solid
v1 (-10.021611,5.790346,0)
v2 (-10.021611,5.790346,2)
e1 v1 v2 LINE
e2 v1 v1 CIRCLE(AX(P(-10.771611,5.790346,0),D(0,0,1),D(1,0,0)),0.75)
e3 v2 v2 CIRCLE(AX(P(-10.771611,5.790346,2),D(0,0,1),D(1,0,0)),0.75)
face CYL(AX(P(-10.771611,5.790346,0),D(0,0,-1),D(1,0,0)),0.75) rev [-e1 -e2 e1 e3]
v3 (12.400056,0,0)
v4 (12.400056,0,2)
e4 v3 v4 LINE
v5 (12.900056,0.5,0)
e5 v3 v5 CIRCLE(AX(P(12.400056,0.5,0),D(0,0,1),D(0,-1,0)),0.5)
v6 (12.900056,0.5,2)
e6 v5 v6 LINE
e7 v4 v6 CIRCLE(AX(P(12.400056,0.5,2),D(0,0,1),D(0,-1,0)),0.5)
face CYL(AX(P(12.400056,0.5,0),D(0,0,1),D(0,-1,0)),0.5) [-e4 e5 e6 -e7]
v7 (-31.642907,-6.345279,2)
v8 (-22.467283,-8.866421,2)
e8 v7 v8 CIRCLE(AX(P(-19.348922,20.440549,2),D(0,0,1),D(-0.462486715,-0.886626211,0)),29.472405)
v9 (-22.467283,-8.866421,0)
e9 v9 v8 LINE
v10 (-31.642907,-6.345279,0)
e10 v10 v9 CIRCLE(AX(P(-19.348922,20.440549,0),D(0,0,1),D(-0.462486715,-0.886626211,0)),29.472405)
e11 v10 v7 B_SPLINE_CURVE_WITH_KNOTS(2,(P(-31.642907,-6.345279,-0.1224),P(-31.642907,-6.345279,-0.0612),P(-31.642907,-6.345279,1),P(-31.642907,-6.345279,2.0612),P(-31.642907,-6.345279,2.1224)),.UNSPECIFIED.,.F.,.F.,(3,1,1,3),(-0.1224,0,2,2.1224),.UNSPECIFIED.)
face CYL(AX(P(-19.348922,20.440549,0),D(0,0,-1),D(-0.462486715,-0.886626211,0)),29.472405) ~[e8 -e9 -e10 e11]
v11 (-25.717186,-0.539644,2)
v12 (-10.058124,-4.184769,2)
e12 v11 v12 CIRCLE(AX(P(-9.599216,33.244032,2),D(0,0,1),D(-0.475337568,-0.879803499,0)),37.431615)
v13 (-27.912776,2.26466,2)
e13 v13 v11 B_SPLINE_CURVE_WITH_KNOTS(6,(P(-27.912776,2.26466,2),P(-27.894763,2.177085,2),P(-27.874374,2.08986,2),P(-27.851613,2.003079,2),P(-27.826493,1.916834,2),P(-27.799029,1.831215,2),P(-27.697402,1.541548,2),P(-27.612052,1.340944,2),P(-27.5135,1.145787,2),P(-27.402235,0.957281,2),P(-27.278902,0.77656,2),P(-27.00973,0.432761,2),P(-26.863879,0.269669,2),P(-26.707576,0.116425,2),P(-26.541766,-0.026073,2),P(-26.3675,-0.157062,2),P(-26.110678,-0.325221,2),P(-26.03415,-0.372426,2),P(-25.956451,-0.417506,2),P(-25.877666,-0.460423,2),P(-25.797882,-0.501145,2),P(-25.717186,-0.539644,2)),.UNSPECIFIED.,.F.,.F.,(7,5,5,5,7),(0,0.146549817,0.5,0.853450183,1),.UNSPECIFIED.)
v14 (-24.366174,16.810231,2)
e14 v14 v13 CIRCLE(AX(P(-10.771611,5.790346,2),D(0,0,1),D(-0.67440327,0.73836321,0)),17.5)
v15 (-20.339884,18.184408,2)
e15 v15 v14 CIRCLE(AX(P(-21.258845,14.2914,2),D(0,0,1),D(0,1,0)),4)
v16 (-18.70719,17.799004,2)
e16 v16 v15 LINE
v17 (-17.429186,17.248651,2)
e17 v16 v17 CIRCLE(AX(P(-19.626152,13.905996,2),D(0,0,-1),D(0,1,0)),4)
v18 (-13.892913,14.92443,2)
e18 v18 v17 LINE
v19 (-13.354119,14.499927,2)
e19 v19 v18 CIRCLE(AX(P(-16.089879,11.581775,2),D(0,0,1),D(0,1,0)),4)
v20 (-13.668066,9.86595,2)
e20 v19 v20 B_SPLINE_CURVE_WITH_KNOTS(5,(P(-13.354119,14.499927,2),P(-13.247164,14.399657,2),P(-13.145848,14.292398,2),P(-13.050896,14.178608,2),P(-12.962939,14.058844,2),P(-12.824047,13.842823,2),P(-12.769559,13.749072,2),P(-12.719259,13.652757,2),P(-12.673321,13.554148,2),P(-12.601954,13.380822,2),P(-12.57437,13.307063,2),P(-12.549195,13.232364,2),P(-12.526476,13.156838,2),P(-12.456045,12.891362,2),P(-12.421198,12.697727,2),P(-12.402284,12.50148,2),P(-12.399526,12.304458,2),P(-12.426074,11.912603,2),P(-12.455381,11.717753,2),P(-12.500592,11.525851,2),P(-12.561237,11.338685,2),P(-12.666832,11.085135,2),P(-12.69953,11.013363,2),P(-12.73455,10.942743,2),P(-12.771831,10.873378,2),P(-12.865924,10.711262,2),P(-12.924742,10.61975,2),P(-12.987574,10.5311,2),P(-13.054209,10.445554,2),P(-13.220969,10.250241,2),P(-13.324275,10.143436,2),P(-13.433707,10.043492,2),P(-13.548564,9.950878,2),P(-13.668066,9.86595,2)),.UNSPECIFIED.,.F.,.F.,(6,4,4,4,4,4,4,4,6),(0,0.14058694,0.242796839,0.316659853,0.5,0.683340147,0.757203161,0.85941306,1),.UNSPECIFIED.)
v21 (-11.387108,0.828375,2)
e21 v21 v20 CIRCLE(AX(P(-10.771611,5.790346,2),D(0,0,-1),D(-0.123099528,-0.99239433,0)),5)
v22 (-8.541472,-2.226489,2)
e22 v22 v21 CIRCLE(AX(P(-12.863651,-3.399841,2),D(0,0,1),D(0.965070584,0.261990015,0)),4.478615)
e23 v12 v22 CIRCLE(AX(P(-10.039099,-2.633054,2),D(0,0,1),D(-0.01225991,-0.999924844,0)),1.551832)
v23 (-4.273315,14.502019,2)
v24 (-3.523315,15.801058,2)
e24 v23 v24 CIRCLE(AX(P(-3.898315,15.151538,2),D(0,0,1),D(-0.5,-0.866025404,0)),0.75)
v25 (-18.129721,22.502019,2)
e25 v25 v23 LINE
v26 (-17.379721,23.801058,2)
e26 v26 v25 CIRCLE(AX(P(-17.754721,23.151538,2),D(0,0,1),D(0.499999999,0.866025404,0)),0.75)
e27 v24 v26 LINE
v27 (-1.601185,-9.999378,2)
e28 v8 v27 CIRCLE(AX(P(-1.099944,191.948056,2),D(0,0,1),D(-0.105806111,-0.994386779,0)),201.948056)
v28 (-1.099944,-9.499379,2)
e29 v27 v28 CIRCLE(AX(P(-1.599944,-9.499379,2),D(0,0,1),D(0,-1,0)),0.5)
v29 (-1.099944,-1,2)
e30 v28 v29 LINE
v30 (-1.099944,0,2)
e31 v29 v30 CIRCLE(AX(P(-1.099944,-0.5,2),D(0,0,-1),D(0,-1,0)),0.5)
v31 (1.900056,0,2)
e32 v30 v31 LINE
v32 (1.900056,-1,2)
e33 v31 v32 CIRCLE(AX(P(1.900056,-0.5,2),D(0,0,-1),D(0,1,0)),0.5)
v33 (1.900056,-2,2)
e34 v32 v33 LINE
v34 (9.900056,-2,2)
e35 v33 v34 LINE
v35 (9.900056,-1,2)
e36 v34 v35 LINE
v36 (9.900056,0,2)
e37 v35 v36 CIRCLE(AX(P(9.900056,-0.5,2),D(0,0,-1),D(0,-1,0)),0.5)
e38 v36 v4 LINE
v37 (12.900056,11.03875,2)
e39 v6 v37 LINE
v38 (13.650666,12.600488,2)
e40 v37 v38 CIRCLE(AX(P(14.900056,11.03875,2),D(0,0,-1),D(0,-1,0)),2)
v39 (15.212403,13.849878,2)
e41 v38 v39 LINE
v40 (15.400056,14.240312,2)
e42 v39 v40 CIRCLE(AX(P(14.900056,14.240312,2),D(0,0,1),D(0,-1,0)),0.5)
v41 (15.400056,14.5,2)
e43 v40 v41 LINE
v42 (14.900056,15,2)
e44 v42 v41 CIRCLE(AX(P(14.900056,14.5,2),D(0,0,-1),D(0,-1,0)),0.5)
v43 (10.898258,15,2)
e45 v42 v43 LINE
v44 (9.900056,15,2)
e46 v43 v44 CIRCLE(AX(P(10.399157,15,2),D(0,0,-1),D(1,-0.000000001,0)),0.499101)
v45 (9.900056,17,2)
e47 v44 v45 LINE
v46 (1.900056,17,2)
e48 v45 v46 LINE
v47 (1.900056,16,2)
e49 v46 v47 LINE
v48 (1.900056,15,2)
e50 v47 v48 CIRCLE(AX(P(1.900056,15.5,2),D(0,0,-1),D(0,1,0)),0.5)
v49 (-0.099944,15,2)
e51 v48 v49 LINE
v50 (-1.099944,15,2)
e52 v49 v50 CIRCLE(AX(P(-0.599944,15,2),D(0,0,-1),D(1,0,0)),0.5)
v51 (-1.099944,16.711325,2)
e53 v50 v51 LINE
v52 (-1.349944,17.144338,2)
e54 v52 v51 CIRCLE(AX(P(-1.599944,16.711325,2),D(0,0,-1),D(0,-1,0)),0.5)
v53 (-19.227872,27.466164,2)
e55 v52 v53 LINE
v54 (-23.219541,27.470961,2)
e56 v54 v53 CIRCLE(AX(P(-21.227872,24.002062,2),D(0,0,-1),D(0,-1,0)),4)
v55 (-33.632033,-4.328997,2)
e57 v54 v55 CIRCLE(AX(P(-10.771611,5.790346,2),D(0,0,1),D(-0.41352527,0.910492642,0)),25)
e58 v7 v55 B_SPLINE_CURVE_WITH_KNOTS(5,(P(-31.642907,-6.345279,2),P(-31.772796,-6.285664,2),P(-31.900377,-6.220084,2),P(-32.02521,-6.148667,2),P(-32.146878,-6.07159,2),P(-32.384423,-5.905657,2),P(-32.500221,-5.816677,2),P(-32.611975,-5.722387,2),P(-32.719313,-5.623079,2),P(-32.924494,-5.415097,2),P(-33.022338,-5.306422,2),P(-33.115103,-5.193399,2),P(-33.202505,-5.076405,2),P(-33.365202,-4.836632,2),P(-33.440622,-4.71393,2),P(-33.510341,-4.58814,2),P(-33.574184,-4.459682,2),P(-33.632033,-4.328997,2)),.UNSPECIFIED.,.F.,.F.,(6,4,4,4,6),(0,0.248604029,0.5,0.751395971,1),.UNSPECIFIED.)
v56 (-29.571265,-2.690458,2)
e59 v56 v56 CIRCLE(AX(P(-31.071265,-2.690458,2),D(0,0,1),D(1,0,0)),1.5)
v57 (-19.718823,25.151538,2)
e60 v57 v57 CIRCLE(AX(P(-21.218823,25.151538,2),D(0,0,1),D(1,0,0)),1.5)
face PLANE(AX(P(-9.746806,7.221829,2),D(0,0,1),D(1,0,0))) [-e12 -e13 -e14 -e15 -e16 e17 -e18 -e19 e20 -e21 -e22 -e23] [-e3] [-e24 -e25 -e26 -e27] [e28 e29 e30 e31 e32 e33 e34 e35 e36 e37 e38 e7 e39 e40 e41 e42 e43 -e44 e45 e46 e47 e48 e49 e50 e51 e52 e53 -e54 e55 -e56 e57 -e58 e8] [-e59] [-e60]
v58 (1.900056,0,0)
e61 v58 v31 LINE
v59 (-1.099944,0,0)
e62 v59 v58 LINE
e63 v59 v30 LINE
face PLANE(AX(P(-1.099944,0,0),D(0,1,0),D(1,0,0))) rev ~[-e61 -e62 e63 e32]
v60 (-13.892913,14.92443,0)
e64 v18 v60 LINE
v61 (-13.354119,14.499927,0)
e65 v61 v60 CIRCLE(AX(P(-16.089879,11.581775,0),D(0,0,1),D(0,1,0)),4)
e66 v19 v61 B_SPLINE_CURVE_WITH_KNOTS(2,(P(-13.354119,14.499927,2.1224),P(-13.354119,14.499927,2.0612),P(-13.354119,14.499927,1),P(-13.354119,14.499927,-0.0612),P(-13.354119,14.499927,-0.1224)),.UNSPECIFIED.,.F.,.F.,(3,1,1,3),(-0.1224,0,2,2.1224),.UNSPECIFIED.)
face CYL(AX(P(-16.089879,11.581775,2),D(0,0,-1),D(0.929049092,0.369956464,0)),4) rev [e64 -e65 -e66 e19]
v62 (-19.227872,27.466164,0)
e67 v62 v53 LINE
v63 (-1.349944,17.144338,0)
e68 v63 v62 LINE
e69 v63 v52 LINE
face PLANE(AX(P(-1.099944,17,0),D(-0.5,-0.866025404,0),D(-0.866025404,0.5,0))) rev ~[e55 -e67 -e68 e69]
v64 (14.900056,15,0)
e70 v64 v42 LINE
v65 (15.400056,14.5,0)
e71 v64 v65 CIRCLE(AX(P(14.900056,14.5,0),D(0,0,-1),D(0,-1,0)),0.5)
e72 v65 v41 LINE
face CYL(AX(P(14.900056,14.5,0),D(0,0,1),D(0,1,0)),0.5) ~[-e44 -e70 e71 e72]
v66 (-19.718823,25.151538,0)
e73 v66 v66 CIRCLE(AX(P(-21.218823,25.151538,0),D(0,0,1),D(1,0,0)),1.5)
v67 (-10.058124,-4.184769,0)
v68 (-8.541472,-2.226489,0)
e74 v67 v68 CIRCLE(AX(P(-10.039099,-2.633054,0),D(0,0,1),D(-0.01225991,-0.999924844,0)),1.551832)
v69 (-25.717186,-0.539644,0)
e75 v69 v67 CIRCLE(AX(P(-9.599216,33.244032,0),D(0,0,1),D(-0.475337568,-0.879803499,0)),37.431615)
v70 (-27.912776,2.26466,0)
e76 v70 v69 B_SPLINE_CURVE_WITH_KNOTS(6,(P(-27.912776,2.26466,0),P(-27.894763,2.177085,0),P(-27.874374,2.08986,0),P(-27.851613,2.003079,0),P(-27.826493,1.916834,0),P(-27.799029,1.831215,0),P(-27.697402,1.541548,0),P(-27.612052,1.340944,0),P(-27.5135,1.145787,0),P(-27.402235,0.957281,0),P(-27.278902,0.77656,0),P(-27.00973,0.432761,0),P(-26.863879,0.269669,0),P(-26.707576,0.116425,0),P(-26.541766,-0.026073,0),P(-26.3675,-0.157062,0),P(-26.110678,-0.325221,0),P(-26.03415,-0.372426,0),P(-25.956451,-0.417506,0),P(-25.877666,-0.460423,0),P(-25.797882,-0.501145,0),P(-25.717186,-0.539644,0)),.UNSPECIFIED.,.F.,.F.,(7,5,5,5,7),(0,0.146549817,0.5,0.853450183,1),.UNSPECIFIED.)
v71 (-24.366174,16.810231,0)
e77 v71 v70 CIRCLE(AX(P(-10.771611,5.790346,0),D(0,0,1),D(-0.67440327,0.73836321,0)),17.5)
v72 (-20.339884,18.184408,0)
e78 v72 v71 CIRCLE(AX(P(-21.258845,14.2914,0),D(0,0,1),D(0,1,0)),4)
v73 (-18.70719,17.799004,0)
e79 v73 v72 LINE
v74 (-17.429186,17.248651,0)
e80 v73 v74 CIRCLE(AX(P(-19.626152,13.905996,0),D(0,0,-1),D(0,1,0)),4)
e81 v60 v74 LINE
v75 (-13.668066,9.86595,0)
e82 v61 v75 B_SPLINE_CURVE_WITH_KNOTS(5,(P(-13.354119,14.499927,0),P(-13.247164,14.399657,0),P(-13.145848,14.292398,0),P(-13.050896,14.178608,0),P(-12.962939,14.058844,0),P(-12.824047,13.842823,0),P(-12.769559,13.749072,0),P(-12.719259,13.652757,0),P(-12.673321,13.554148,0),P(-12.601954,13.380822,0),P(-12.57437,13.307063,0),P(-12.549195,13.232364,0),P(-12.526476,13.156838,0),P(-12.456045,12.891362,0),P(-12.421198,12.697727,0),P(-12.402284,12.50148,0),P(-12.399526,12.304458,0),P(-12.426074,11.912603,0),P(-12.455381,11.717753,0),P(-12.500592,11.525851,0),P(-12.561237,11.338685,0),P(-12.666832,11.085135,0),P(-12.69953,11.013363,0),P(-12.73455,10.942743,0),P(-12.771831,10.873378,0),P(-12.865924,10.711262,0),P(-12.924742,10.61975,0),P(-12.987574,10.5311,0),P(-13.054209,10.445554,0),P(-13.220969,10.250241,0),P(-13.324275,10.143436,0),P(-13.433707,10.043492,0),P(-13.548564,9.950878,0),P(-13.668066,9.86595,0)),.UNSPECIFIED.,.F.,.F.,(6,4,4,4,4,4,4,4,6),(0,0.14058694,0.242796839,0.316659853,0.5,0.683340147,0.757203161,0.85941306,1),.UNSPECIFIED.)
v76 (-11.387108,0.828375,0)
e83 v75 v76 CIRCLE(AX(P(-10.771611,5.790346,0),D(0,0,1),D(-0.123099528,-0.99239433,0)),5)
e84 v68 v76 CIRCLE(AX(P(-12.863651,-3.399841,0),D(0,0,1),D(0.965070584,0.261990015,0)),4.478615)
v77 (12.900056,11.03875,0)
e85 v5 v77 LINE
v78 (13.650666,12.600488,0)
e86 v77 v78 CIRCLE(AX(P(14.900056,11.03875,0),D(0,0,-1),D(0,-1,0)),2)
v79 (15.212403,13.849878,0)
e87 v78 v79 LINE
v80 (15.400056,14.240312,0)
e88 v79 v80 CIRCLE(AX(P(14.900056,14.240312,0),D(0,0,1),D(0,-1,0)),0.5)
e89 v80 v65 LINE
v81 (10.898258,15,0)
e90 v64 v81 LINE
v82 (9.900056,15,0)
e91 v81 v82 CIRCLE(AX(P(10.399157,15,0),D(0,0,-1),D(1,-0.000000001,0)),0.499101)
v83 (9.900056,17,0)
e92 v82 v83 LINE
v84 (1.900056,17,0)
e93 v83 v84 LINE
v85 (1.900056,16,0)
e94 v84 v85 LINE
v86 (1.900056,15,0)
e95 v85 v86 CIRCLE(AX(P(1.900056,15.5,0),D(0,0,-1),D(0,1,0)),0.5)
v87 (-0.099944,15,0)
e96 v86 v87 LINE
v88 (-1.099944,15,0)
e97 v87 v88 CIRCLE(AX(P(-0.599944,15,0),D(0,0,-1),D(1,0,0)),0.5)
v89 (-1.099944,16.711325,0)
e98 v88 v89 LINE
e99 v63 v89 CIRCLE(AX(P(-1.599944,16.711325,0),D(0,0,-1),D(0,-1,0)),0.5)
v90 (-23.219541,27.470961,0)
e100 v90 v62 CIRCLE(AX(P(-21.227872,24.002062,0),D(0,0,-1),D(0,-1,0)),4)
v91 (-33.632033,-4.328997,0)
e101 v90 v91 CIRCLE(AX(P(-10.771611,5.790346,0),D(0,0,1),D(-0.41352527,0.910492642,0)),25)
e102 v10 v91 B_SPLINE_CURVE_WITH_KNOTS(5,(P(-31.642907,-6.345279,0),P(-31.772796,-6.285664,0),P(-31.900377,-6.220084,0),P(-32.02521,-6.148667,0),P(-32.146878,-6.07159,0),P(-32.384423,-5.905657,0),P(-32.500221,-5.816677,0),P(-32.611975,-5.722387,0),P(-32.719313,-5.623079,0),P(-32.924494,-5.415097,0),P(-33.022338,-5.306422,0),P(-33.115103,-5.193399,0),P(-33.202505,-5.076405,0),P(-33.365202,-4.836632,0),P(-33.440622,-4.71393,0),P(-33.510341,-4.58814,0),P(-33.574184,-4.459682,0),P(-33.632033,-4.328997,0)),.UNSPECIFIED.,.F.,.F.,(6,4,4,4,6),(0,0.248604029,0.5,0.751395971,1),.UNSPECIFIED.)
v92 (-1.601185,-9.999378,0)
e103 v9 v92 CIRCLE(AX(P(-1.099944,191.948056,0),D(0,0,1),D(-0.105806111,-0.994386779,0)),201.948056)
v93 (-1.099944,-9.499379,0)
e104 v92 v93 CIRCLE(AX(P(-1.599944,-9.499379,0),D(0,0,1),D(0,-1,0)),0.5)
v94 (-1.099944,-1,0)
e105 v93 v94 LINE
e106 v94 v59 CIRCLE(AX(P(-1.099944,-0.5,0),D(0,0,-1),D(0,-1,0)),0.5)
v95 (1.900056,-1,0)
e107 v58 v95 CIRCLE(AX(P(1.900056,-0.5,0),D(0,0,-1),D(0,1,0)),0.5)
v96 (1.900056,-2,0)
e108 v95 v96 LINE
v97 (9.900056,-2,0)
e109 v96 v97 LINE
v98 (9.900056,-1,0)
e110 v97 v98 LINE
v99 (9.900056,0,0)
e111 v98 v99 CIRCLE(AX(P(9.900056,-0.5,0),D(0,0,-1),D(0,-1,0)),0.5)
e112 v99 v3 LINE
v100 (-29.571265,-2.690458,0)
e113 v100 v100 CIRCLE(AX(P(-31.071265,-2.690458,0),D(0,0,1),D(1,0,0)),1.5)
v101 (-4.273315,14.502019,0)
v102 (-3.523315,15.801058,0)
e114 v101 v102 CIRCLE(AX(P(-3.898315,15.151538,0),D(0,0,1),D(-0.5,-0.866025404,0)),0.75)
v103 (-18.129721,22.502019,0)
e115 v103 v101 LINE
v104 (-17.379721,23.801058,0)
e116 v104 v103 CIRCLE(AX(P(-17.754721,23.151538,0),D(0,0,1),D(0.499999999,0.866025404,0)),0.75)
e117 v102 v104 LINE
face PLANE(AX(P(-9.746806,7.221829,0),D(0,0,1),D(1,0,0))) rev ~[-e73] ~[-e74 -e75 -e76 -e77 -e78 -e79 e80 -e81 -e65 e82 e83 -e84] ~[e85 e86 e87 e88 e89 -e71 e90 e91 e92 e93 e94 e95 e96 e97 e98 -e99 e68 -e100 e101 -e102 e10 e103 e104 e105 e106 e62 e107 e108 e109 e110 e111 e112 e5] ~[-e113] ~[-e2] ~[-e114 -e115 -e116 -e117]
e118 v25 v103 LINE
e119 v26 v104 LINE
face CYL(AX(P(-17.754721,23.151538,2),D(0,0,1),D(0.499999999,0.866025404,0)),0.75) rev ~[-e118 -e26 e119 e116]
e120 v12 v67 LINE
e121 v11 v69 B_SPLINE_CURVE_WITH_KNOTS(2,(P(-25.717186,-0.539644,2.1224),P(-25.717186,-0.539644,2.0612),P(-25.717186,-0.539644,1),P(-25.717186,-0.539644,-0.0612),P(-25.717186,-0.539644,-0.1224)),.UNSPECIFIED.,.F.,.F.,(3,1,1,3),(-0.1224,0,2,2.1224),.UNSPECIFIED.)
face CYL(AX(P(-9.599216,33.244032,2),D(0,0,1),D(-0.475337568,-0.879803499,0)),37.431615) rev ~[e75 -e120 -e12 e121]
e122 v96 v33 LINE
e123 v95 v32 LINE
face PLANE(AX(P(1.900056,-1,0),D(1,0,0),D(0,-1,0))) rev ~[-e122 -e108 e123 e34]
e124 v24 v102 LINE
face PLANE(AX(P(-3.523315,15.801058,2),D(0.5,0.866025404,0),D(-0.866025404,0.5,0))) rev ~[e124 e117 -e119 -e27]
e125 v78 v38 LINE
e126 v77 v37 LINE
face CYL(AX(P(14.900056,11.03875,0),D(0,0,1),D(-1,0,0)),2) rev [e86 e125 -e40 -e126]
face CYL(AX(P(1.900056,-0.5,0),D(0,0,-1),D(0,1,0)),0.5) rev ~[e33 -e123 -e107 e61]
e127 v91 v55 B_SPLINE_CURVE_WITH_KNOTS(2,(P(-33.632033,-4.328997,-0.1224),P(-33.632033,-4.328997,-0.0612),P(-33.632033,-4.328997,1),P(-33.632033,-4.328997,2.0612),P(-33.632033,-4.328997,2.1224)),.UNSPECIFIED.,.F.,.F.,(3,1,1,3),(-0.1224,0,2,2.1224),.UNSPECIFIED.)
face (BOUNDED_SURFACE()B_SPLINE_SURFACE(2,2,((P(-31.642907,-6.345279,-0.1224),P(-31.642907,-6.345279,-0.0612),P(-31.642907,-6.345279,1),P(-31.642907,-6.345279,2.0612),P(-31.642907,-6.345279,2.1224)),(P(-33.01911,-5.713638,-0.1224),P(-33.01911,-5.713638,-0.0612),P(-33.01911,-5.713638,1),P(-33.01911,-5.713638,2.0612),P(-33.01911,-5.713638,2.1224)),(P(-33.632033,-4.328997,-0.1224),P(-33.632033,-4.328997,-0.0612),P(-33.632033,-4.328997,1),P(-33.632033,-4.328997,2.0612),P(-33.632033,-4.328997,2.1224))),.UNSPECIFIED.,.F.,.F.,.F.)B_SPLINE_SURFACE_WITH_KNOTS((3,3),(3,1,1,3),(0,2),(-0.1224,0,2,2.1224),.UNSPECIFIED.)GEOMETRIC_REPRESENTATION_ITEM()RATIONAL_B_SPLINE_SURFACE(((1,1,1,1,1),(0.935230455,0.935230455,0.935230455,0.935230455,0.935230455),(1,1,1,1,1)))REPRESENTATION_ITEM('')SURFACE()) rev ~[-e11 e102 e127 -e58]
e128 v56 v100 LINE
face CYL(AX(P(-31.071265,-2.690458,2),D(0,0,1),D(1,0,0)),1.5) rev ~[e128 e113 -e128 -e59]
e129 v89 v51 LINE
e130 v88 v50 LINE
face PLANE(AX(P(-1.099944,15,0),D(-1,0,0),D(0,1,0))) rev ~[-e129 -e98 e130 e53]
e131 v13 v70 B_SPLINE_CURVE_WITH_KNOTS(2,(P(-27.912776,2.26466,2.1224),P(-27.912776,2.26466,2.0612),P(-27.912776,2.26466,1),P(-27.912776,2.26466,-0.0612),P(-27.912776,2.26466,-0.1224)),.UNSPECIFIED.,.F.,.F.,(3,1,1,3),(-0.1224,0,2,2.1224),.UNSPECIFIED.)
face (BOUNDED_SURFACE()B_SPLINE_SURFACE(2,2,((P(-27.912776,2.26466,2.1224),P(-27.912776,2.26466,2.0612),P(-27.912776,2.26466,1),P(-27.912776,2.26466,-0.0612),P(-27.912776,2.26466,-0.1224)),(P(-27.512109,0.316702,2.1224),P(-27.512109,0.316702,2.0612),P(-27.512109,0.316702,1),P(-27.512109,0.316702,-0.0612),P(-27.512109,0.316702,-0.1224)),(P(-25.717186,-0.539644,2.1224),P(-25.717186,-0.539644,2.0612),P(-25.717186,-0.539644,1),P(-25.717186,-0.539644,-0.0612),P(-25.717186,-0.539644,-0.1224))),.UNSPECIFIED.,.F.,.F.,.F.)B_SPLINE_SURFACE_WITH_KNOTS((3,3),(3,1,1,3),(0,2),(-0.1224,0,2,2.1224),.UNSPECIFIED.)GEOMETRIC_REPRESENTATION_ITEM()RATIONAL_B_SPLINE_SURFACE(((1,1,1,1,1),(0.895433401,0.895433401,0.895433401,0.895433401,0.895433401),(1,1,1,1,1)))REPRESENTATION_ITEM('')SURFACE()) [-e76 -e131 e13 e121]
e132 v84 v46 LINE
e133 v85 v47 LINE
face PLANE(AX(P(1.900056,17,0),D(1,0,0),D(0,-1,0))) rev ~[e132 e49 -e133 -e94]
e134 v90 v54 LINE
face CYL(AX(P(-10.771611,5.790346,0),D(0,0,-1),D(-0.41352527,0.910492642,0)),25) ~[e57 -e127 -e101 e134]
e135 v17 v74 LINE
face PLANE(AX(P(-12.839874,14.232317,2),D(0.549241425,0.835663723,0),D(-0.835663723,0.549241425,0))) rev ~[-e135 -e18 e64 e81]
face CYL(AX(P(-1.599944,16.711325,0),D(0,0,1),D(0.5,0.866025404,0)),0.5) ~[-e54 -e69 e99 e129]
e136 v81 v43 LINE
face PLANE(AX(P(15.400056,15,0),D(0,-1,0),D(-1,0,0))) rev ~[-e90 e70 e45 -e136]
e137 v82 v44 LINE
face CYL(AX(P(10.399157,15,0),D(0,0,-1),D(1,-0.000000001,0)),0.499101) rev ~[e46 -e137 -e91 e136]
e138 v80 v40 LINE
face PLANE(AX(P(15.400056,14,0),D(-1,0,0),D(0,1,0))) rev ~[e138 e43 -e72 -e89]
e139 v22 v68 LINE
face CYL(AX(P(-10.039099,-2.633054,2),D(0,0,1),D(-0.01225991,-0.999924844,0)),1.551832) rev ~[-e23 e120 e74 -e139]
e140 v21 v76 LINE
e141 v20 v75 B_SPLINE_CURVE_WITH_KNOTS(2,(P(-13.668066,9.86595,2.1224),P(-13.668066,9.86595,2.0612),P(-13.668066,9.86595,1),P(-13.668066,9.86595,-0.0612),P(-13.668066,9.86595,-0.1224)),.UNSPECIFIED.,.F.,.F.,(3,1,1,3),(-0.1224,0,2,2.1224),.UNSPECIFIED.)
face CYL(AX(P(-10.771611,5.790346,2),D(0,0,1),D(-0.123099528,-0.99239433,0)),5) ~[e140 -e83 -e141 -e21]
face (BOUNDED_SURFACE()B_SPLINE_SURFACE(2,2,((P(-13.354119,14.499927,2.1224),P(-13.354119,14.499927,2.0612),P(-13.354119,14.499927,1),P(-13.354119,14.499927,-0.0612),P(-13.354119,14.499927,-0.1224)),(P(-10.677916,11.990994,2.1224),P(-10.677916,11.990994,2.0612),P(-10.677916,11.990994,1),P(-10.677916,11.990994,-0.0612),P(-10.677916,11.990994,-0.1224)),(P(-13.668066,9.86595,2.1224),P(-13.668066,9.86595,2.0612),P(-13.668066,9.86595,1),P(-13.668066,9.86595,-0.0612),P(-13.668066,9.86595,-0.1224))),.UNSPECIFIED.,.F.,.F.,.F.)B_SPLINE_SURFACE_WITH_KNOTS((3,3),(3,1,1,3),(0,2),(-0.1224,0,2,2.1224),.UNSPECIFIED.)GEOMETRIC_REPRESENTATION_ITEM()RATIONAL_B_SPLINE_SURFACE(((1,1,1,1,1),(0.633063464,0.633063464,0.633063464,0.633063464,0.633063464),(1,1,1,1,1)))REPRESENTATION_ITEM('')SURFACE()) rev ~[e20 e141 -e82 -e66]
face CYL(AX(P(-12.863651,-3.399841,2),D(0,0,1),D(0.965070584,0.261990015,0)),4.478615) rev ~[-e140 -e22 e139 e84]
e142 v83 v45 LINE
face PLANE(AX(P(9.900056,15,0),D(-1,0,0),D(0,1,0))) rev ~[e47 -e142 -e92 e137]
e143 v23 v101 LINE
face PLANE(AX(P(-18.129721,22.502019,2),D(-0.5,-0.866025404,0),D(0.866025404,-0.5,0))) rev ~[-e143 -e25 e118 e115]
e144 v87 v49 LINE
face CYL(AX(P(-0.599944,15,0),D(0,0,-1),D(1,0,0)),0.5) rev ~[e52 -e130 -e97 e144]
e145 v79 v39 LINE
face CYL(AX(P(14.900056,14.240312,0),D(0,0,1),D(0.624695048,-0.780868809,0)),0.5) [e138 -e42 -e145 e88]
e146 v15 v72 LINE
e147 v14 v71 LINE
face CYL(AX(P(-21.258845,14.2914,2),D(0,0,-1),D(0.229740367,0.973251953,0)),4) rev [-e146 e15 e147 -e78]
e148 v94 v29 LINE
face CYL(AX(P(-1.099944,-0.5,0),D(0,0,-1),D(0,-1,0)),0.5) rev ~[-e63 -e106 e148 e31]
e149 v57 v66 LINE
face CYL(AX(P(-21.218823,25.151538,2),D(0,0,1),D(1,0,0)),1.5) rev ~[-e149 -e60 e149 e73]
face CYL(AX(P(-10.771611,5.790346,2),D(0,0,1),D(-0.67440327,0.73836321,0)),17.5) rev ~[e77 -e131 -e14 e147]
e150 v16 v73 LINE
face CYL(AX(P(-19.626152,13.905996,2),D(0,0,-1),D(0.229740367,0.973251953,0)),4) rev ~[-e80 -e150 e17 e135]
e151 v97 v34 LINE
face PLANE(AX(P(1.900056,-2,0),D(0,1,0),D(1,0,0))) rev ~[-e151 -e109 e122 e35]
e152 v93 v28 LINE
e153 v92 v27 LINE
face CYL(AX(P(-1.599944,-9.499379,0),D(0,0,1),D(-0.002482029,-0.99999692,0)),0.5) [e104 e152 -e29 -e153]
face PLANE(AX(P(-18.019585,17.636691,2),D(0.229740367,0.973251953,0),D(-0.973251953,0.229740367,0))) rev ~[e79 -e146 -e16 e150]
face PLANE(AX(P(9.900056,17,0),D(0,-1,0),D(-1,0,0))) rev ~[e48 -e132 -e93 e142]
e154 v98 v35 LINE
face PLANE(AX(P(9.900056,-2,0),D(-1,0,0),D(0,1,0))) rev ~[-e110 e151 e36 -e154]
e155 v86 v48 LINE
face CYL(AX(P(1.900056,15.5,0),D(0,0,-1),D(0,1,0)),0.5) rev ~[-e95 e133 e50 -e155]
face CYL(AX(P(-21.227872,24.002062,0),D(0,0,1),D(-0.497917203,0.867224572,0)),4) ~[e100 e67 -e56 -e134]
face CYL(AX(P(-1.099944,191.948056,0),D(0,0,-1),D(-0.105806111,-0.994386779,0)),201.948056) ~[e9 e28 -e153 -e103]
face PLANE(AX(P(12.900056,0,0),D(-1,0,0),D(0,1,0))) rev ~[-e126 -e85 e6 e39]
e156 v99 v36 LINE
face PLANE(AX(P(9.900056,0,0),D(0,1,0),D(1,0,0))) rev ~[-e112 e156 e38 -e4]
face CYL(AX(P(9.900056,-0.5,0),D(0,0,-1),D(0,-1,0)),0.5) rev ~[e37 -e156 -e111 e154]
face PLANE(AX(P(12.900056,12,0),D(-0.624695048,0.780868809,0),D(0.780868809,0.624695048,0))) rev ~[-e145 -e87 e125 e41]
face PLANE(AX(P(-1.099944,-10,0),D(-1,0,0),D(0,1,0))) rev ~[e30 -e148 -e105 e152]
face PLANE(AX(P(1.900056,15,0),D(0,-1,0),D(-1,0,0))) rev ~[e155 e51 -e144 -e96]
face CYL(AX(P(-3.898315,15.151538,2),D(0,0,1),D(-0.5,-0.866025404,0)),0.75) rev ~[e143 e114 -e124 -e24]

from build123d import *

# Parameters (mm, degrees)
SKETCH1_R           = 0.75
BOSS_EXTRUDE1_DEPTH = 2
FILLET7_R           = 4
FILLET8_R           = 0.5
FILLET9_R           = 2
SKETCH2_R           = 1.5
CUT_EXTRUDE1_DEPTH  = 46.472229495
FILLET10_R          = 4
FILLET12_R          = 3


with BuildPart() as part:
    # Sketch1 → Boss-Extrude1 (new body)
    with BuildSketch(Plane.XY):
        with BuildLine():
            ThreePointArc((9.900055809, -1), (9.400055809, -0.5), (9.900055809, 0))
            Line((9.900055809, 0), (12.900055809, 0))
            Line((12.900055809, 0), (12.900055809, 12))
            Line((12.900055809, 12), (15.400055809, 14))
            Line((15.400055809, 14), (15.400055809, 15))
            Line((15.400055809, 15), (10.898257816, 15))
            ThreePointArc((10.898257816, 15), (10.399156812, 14.500898997), (9.900055809, 15))
            Line((9.900055809, 15), (9.900055809, 17))
            Line((9.900055809, 17), (1.900055809, 17))
            Line((1.900055809, 17), (1.900055809, 16))
            ThreePointArc((1.900055809, 16), (2.400055809, 15.5), (1.900055809, 15))
            Line((1.900055809, 15), (-0.099944191, 15))
            ThreePointArc((-0.099944191, 15), (-0.599944191, 14.5), (-1.099944191, 15))
            Line((-1.099944191, 15), (-1.099944191, 17))
            Line((-1.099944191, 17), (-21.109742569, 28.55266248))
            ThreePointArc((-21.109742569, 28.55266248), (-34.392766222, 13.978204373), (-32.979517798, -5.690457894))
            ThreePointArc((-32.979517798, -5.690457894), (-27.872628368, -7.772375219), (-22.467282567, -8.866421))
            ThreePointArc((-22.467282567, -8.866421), (-11.79863746, -9.716406126), (-1.099944191, -10))
            Line((-1.099944191, -10), (-1.099944191, -1))
            ThreePointArc((-1.099944191, -1), (-1.599944191, -0.5), (-1.099944191, 0))
            Line((-1.099944191, 0), (1.900055809, 0))
            ThreePointArc((1.900055809, 0), (2.400055809, -0.5), (1.900055809, -1))
            Line((1.900055809, -1), (1.900055809, -2))
            Line((1.900055809, -2), (9.900055809, -2))
            Line((9.900055809, -2), (9.900055809, -1))
        make_face()
        with Locations((-10.771610825, 5.790346428)):
            Circle(SKETCH1_R, mode=Mode.SUBTRACT)
    extrude(amount=BOSS_EXTRUDE1_DEPTH)

    # Fillet7
    fillet7_edges = [part.edges().sort_by_distance(p)[0] for p in [
        (-32.979517798, -5.690457894, 1),
        (-21.109742569, 28.55266248, 1),
    ]]
    fillet(fillet7_edges, radius=FILLET7_R)

    # Fillet8
    fillet8_edges = [part.edges().sort_by_distance(p)[0] for p in [
        (-1.099944191, 17, 1),
        (15.400055809, 15, 1),
        (15.400055809, 14, 1),
        (12.900055809, 0, 1),
        (-1.099944191, -10, 1),
    ]]
    fillet(fillet8_edges, radius=FILLET8_R)

    # Fillet9
    fillet9_edges = [part.edges().sort_by_distance(p)[0] for p in [
        (12.900055809, 12, 1),
    ]]
    fillet(fillet9_edges, radius=FILLET9_R)

    # Sketch2 → Cut-Extrude1 (cut, through all)
    with BuildSketch(Plane.XY.offset(2)):
        with Locations((-21.218823002, 25.151538482)):
            Circle(SKETCH2_R)
        with Locations((-31.071264961, -2.690457894)):
            Circle(SKETCH2_R)
        with BuildLine():
            Line((-18.019584713, 17.636691368), (-22.57366805, 18.711702598))
            ThreePointArc((-22.57366805, 18.711702598), (-27.700823696, 10.223376044), (-27.391868807, 0.311566946))
            ThreePointArc((-27.391868807, 0.311566946), (-18.997839896, -2.988434266), (-10.058124429, -4.184768964))
            ThreePointArc((-10.058124429, -4.184768964), (-8.812200112, -3.583264873), (-8.54147164, -2.226489037))
            ThreePointArc((-8.54147164, -2.226489037), (-9.58655744, -0.347195343), (-11.387108468, 0.828374779))
            ThreePointArc((-11.387108468, 0.828374779), (-15.771507704, 5.758234049), (-11.450792663, 10.744002859))
            Line((-11.450792663, 10.744002859), (-12.839873731, 14.232317382))
            Line((-12.839873731, 14.232317382), (-18.019584713, 17.636691368))
        make_face()
        with BuildLine():
            Line((-18.129721387, 22.502019429), (-4.273314926, 14.502019429))
            ThreePointArc((-4.273314926, 14.502019429), (-3.248795873, 14.776538482), (-3.523314926, 15.801057535))
            Line((-3.523314926, 15.801057535), (-17.379721387, 23.801057535))
            ThreePointArc((-17.379721387, 23.801057535), (-18.404240439, 23.526538482), (-18.129721387, 22.502019429))
        make_face()
    extrude(amount=-CUT_EXTRUDE1_DEPTH, mode=Mode.SUBTRACT)

    # Fillet10
    fillet10_edges = [part.edges().sort_by_distance(p)[0] for p in [
        (-27.391868807, 0.311566946, 1),
        (-22.57366805, 18.711702598, 1),
        (-18.019584713, 17.636691368, 1),
        (-12.839873731, 14.232317382, 1),
    ]]
    fillet(fillet10_edges, radius=FILLET10_R)

    # Fillet12
    fillet12_edges = [part.edges().sort_by_distance(p)[0] for p in [
        (-11.450792663, 10.744002859, 1),
    ]]
    fillet(fillet12_edges, radius=FILLET12_R)


solid = part.part
